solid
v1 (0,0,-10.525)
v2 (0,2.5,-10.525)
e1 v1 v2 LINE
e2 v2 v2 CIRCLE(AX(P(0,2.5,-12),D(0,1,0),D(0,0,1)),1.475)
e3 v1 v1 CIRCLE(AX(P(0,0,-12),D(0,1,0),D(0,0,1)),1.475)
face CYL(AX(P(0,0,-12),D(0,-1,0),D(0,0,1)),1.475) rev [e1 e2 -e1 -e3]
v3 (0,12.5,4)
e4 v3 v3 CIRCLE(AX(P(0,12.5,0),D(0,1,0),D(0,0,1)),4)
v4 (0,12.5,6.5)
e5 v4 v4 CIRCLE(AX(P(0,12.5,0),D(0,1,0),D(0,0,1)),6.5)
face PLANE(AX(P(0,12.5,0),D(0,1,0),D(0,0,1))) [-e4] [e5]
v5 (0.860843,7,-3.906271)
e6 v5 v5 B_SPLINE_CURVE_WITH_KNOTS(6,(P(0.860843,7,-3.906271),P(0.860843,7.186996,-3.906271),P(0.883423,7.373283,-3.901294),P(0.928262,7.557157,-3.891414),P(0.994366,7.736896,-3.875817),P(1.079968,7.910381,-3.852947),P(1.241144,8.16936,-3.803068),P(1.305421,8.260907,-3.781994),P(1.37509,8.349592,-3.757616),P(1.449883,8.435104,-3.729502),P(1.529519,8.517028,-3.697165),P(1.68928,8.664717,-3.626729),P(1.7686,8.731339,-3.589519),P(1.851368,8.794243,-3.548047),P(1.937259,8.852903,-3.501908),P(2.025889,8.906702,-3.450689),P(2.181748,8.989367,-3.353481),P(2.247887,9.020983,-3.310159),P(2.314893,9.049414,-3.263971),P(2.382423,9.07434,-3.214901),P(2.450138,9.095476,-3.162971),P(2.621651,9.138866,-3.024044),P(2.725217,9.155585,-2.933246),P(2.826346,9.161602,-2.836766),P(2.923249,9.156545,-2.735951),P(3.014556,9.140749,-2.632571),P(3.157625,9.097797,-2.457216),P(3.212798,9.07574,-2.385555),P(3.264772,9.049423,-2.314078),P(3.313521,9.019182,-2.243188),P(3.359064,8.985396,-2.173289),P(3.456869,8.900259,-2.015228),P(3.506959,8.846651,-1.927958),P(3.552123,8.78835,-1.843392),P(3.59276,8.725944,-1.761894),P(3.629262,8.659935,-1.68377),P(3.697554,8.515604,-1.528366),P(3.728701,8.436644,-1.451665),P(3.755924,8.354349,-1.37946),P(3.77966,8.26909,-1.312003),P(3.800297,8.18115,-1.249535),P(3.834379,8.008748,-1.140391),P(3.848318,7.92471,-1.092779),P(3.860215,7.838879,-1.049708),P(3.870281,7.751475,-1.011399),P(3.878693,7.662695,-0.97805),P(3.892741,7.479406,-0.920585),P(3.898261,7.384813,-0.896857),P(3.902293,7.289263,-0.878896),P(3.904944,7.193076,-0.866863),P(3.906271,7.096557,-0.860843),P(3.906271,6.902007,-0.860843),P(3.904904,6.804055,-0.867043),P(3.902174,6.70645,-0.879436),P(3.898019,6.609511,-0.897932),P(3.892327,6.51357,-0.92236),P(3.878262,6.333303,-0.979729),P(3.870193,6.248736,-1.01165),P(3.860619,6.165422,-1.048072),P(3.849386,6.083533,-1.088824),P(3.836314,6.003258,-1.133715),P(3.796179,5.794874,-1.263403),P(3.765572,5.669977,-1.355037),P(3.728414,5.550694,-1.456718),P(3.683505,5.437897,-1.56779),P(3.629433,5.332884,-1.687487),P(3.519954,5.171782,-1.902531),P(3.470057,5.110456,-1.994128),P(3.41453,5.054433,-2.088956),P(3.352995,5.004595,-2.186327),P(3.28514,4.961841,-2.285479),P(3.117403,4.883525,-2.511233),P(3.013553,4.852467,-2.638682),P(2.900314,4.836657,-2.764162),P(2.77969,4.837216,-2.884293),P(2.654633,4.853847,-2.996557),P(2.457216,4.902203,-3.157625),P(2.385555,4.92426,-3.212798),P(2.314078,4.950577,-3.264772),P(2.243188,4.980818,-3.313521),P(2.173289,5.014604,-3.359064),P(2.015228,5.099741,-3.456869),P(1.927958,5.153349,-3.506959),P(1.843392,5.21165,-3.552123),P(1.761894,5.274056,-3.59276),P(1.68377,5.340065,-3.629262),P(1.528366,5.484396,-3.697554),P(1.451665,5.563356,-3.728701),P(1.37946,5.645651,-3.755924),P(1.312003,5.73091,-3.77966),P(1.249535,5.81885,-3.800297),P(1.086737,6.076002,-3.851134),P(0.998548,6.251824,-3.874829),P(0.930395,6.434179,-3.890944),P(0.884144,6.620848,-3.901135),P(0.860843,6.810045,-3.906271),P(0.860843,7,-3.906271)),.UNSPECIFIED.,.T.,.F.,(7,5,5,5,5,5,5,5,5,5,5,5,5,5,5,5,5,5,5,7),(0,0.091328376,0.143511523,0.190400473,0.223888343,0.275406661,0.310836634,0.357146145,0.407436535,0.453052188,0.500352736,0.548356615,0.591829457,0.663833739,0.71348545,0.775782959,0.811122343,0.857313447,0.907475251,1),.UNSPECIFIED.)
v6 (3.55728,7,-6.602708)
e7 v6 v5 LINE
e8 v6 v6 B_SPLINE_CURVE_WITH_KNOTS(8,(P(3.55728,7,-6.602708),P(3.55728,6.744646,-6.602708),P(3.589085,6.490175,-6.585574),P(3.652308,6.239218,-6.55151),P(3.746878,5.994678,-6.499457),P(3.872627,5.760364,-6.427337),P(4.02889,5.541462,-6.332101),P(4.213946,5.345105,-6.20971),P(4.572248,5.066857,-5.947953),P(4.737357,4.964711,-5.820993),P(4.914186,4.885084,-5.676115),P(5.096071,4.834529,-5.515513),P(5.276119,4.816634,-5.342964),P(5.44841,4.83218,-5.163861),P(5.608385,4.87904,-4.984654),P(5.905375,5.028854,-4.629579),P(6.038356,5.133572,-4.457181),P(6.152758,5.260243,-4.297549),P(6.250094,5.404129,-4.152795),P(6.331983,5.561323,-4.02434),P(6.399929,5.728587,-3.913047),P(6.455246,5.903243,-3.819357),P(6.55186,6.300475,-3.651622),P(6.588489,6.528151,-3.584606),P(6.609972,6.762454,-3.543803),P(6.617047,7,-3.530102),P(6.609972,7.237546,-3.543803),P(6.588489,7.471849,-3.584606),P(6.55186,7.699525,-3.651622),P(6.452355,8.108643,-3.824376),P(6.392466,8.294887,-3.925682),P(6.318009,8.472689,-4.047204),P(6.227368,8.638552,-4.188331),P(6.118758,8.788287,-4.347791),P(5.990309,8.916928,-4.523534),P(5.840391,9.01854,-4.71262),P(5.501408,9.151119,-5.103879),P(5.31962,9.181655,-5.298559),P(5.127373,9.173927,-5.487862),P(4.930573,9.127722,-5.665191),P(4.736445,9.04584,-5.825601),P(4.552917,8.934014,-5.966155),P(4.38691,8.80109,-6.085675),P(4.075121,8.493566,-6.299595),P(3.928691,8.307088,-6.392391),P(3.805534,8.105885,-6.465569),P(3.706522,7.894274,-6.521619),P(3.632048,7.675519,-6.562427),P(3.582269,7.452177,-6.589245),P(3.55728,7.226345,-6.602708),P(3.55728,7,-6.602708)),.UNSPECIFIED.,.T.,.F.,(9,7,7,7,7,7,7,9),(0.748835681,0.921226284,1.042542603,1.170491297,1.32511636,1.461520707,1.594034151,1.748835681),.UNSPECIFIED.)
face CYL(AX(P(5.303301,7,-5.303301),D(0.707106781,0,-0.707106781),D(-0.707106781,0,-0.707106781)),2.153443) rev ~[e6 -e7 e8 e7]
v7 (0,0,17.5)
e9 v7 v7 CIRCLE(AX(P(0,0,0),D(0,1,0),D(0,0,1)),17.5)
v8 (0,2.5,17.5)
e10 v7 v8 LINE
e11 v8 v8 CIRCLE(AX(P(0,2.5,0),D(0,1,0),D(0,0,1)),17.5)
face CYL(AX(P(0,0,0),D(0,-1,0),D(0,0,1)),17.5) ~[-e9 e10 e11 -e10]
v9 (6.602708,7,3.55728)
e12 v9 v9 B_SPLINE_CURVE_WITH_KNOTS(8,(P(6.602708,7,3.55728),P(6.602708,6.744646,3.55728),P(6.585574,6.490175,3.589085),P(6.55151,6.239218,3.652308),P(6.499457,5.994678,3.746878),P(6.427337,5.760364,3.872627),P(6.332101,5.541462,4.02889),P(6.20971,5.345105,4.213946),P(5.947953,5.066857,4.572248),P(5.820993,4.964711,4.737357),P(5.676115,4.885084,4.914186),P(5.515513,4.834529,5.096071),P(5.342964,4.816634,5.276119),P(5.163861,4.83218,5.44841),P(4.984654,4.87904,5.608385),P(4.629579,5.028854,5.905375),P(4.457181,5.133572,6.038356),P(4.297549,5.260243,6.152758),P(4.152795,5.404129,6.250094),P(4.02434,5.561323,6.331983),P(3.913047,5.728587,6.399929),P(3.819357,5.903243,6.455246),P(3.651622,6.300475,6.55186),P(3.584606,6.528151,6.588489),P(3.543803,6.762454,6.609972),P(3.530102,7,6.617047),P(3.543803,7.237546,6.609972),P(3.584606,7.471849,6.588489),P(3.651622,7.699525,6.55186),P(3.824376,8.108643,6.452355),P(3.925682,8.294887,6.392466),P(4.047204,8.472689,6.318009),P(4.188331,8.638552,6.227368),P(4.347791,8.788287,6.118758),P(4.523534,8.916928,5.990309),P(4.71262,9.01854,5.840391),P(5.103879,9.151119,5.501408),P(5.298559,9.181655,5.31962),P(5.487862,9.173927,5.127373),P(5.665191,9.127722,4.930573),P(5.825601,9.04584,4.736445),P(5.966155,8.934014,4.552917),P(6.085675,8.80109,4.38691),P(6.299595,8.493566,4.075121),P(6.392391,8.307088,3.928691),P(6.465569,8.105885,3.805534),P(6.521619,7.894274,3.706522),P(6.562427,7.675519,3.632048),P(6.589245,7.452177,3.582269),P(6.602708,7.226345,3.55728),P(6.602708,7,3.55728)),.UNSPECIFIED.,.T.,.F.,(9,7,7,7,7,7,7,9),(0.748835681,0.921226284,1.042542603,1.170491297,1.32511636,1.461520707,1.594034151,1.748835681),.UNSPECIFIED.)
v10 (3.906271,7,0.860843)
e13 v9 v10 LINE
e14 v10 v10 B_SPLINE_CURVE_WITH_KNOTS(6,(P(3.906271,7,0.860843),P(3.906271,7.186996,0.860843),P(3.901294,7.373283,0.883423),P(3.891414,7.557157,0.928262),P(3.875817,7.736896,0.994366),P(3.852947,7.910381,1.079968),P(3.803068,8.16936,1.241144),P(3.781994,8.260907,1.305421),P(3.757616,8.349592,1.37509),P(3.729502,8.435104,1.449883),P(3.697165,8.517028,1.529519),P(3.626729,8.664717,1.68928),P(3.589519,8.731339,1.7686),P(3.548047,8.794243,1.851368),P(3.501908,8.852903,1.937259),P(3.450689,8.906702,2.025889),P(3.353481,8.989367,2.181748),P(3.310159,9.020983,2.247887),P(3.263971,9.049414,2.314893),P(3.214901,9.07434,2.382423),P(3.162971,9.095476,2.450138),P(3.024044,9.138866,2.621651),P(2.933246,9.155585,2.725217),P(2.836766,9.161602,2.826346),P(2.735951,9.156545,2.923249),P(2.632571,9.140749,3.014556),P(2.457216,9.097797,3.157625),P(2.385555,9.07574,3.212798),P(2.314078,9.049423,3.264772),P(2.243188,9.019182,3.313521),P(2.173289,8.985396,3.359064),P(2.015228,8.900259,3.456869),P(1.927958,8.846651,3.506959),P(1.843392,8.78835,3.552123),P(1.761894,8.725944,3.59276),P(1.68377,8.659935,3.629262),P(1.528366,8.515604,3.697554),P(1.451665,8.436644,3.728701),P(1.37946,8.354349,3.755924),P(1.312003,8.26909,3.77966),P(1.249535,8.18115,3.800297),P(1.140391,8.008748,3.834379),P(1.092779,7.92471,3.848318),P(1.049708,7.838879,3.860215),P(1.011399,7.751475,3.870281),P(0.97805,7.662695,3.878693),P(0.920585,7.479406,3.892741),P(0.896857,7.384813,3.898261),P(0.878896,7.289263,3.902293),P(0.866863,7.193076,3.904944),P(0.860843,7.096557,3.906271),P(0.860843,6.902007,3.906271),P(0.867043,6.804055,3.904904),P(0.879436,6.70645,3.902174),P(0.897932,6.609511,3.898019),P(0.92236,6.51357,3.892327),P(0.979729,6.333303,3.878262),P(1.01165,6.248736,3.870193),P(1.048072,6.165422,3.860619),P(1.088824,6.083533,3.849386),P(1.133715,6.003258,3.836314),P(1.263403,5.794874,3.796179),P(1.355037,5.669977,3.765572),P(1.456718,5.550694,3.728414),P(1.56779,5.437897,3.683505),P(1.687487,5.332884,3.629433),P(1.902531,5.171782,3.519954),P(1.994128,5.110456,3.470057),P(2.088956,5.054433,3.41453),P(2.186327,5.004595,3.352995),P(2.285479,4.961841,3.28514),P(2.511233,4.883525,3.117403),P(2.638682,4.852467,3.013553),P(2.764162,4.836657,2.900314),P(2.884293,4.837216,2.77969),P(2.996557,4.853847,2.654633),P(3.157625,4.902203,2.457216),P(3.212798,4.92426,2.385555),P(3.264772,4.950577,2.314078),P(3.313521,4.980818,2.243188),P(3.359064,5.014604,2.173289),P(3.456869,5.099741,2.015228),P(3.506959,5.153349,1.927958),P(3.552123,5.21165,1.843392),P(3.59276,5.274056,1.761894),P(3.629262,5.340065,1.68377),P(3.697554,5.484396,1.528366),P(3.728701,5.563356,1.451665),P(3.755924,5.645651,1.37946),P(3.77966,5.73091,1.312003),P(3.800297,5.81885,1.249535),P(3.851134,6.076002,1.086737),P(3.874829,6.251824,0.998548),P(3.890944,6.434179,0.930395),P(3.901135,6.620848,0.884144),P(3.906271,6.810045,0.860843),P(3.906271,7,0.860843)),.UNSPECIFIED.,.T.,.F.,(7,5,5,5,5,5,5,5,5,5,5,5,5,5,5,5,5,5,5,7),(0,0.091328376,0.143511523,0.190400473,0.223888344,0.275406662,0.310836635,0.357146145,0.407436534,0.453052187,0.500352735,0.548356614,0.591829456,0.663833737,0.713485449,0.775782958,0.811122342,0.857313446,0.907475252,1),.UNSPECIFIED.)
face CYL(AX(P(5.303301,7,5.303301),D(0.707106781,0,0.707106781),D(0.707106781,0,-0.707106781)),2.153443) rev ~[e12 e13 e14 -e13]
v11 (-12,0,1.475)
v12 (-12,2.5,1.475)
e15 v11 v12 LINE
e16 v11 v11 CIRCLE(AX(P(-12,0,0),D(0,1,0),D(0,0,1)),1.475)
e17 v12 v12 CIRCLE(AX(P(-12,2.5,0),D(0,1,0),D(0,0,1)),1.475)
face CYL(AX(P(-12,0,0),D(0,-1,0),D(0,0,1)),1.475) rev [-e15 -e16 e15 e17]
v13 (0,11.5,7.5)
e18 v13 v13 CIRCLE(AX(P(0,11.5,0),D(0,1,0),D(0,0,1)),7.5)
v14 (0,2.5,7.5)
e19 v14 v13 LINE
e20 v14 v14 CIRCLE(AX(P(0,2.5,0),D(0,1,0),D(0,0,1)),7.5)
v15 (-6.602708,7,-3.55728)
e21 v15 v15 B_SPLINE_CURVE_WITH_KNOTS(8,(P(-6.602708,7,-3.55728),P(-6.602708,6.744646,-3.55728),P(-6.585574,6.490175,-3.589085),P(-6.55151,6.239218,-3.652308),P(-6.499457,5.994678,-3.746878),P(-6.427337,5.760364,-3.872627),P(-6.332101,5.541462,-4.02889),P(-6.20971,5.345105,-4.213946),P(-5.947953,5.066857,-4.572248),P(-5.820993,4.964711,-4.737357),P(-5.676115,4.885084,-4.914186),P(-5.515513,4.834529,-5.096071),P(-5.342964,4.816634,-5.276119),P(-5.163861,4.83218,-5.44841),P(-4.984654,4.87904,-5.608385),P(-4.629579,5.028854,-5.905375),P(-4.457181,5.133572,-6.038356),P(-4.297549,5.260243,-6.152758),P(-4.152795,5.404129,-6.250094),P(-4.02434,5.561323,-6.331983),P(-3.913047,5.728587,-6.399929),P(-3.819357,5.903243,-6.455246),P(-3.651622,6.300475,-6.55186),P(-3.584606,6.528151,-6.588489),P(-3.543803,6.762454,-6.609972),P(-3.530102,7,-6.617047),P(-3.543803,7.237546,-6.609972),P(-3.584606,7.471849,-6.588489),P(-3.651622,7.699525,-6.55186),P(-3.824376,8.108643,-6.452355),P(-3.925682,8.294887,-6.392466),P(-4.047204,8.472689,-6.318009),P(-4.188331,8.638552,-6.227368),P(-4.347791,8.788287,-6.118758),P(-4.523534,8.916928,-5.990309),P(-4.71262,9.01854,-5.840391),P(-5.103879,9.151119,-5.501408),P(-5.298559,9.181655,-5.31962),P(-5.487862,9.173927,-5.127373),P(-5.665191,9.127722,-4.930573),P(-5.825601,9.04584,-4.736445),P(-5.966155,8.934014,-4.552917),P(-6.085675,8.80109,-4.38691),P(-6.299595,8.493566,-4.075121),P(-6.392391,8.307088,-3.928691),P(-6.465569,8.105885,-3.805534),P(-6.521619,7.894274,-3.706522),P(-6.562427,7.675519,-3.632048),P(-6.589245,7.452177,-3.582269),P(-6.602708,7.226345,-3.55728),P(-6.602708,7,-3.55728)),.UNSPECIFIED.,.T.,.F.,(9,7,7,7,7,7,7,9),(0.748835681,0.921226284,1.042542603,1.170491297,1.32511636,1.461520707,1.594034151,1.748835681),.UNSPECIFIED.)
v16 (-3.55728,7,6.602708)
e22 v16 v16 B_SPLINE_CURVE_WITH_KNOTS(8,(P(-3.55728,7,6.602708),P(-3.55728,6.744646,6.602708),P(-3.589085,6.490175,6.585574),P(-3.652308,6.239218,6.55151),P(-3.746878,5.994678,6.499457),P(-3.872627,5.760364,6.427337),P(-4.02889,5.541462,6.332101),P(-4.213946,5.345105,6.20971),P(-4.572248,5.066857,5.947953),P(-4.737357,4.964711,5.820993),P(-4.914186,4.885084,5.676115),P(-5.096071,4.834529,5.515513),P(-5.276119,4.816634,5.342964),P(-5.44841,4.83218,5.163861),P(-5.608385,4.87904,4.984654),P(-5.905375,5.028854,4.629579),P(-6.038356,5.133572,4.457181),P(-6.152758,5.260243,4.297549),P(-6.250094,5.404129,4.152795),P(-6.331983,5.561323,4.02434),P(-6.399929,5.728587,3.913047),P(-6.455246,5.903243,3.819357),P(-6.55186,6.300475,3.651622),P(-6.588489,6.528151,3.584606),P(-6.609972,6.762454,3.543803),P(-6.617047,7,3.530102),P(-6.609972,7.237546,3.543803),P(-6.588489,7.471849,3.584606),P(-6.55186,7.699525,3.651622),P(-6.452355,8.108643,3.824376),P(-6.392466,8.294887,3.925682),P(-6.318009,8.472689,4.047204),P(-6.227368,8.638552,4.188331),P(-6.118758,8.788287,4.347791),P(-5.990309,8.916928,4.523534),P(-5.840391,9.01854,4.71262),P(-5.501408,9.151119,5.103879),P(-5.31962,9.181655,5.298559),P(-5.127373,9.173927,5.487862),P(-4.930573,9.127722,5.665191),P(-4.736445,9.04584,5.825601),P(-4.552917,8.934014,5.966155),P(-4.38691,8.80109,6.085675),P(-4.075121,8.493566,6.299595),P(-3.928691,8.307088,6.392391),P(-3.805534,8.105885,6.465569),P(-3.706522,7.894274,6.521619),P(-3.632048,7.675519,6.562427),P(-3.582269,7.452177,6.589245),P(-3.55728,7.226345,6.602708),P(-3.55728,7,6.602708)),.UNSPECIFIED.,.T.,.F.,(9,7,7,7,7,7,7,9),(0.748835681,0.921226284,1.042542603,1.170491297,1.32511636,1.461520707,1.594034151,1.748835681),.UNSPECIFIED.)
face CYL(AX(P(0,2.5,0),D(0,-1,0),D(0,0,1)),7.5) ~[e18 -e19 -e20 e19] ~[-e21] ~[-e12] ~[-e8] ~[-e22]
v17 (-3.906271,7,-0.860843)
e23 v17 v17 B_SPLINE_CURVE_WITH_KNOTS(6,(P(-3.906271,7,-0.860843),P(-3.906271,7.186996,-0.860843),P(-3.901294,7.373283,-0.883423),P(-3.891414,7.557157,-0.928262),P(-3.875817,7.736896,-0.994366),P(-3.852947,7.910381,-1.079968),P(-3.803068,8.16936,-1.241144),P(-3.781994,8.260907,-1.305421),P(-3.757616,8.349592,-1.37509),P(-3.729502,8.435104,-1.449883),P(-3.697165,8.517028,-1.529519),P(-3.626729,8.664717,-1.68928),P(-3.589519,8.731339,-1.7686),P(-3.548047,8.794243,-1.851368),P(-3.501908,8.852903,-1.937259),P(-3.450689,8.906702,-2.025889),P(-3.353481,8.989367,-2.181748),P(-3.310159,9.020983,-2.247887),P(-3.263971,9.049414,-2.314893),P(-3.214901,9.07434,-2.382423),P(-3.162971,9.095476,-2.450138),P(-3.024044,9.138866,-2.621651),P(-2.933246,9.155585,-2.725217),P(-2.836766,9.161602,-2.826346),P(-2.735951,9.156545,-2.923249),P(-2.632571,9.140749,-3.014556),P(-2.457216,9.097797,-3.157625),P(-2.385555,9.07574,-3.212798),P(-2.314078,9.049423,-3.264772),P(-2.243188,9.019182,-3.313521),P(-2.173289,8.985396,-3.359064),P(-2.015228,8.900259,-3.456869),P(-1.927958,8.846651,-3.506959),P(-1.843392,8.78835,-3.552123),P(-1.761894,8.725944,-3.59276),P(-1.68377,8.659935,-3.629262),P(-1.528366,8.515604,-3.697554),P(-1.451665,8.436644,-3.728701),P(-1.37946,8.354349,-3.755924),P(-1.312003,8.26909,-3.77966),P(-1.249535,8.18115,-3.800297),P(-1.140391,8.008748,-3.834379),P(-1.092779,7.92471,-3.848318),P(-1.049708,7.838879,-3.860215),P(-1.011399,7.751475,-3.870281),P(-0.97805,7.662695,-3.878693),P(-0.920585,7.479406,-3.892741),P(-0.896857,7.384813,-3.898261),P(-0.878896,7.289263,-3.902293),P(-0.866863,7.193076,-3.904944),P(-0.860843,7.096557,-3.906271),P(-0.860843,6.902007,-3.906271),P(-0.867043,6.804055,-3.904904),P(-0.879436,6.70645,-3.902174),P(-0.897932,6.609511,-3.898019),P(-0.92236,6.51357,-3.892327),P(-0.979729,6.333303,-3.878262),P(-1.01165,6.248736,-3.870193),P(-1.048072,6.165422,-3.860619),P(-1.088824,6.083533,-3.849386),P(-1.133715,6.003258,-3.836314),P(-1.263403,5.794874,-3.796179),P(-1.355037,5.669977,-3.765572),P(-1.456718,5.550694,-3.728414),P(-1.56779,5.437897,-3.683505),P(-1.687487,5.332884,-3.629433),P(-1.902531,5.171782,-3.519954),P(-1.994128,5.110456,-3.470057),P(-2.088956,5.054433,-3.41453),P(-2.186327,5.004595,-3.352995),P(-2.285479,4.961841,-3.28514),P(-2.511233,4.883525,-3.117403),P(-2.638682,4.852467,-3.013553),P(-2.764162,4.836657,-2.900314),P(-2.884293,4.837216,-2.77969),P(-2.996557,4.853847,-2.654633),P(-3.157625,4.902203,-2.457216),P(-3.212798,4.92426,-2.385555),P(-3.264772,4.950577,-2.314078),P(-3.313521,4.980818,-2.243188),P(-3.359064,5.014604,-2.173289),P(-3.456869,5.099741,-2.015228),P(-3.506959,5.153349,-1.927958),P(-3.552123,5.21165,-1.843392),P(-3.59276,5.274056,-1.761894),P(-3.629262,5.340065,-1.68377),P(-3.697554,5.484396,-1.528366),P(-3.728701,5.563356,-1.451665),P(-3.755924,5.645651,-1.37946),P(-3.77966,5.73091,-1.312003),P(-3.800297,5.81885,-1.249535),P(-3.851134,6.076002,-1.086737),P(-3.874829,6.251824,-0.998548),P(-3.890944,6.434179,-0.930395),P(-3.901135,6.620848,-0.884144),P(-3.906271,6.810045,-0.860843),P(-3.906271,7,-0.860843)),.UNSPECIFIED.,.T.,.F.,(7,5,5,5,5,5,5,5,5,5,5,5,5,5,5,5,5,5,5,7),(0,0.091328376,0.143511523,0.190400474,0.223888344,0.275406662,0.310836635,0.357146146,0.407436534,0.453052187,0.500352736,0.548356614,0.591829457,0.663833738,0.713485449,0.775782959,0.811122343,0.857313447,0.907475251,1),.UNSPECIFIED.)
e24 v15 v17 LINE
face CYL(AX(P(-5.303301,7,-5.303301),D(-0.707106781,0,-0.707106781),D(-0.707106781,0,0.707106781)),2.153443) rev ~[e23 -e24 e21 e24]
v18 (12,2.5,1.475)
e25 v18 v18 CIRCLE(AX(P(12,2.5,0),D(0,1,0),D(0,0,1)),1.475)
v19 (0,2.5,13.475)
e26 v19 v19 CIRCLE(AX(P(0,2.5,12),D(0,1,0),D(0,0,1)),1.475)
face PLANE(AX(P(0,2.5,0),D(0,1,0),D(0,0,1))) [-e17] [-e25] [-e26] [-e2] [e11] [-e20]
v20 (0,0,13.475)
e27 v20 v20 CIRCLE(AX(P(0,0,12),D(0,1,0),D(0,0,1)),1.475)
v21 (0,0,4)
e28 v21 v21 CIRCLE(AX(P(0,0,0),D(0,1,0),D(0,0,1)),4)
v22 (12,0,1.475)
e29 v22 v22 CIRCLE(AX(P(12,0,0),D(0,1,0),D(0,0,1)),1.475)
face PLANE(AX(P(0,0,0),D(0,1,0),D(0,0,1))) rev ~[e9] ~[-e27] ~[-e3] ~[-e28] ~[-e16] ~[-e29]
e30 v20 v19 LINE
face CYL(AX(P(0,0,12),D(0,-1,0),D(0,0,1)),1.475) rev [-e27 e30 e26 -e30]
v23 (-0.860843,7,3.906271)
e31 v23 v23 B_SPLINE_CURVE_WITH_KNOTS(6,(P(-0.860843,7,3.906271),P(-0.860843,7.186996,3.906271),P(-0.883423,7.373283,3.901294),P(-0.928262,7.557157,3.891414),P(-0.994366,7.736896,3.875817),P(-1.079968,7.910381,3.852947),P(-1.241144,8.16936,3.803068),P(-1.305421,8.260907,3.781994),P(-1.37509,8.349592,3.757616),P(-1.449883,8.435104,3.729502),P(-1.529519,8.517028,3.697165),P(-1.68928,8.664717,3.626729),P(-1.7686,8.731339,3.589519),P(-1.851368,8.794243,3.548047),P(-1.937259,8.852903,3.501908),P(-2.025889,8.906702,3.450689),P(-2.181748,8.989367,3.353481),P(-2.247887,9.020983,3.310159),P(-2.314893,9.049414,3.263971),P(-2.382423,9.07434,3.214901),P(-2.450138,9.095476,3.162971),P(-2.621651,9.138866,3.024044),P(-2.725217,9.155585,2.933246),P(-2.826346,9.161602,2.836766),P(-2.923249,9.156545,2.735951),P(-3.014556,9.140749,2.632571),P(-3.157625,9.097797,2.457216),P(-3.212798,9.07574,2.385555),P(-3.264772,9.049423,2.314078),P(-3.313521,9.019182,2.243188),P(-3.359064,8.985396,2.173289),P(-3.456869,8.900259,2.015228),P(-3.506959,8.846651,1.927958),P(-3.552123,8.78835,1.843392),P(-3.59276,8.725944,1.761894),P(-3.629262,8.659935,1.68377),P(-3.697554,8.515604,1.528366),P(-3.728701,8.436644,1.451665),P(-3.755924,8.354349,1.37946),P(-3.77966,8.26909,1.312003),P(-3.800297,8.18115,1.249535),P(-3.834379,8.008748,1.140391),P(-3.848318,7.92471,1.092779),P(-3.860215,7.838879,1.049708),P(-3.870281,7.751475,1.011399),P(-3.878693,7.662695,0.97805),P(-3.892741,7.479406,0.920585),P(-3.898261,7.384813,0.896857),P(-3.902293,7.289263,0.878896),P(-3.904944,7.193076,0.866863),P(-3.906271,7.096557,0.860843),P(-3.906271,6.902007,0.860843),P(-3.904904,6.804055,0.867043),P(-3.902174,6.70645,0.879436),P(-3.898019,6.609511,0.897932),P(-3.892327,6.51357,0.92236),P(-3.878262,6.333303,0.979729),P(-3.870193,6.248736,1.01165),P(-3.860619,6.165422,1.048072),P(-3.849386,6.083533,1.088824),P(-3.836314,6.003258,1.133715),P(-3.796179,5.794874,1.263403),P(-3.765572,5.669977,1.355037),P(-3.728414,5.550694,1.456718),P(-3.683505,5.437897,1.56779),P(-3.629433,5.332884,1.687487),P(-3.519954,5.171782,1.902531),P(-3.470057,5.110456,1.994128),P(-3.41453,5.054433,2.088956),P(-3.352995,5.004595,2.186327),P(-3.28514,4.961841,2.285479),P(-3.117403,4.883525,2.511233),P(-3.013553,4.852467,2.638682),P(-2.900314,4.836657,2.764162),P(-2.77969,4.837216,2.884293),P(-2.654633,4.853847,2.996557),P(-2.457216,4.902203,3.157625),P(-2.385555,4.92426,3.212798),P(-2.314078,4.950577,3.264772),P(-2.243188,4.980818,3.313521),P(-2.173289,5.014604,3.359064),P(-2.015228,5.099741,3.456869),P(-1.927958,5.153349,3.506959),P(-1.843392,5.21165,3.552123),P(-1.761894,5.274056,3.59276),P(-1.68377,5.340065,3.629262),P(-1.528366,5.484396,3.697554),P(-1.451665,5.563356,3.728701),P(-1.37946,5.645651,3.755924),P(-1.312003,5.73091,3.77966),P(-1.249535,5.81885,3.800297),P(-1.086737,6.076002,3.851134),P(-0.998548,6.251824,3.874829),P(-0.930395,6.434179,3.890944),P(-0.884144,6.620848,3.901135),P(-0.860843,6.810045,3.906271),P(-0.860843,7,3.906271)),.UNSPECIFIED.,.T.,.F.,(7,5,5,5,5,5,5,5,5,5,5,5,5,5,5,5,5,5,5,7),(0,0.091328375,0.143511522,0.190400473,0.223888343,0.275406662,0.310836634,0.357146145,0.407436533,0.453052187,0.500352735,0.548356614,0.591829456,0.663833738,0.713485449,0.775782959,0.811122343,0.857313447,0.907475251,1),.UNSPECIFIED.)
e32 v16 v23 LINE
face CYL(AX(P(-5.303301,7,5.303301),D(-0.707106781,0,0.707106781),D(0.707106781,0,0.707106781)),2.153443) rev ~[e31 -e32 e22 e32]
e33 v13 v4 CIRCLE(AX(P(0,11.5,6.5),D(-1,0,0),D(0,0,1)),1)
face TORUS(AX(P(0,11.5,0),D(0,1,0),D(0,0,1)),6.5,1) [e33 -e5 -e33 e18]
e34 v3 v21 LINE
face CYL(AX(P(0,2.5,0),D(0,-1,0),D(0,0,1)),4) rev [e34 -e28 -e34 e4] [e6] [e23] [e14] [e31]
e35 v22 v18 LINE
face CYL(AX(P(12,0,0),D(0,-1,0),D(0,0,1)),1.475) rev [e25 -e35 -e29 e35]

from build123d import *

# Parameters (mm, degrees)
SKETCH2_R           = 17.5
SKETCH2_R_2         = 1.475
SKETCH2_R_3         = 4
BOSS_EXTRUDE1_DEPTH = 2.5
SKETCH3_R           = 7.5
SKETCH3_R_2         = 4
BOSS_EXTRUDE2_DEPTH = 10
FILLET1_R           = 1
SKETCH7_R           = 2.153442821
CUT_EXTRUDE7_DEPTH  = 5
CIRPATTERN2_COUNT   = 4


with BuildPart() as part:
    # Sketch2 → Boss-Extrude1 (new body)
    with BuildSketch(Plane(origin=(0, 0, 0), x_dir=(1, 0, 0), z_dir=(0, 1, 0))):
        with Locations(Location((0, 0, 0), (0, 0, 270))):
            Circle(SKETCH2_R)
        with Locations(Location((-12, 0, 0), (0, 0, 270))):
            Circle(SKETCH2_R_2, mode=Mode.SUBTRACT)
        with Locations(Location((0, -12, 0), (0, 0, 270))):
            Circle(SKETCH2_R_2, mode=Mode.SUBTRACT)
        with Locations(Location((12, 0, 0), (0, 0, 270))):
            Circle(SKETCH2_R_2, mode=Mode.SUBTRACT)
        with Locations(Location((0, 12, 0), (0, 0, 270))):
            Circle(SKETCH2_R_2, mode=Mode.SUBTRACT)
        with Locations(Location((0, 0, 0), (0, 0, 270))):
            Circle(SKETCH2_R_3, mode=Mode.SUBTRACT)
    extrude(amount=BOSS_EXTRUDE1_DEPTH)

    # Sketch3 → Boss-Extrude2 (add)
    with BuildSketch(Plane(origin=(0, 2.5, 0), x_dir=(1, 0, 0), z_dir=(0, 1, 0))):
        with Locations(Location((0, 0, 0), (0, 0, 270))):
            Circle(SKETCH3_R)
        with Locations(Location((0, 0, 0), (0, 0, 270))):
            Circle(SKETCH3_R_2, mode=Mode.SUBTRACT)
    extrude(amount=BOSS_EXTRUDE2_DEPTH)

    # Fillet1
    fillet1_edges = [part.edges().sort_by_distance(p)[0] for p in [
        (0, 12.5, -7.5),
    ]]
    fillet(fillet1_edges, radius=FILLET1_R)

    # Sketch7 → Cut-Extrude7 (cut)
    with BuildSketch(Plane(origin=(5.303300859, 0, 5.303300859), x_dir=(0, -1, 0), z_dir=(0.7071067811865464, 0, 0.7071067811865488))):
        with Locations(Location((-7, 0, 0), (0, 0, 90))):
            Circle(SKETCH7_R)
    cut_extrude7 = extrude(amount=-CUT_EXTRUDE7_DEPTH, mode=Mode.SUBTRACT)

    # CirPattern2: Cut-Extrude7 ×4 about axis
    cirpattern2_axis = Axis((0, 12.5, 0), (0, -1, 0))
    for i in range(1, CIRPATTERN2_COUNT):
        add(cut_extrude7.rotate(cirpattern2_axis, i * 360 / CIRPATTERN2_COUNT), mode=Mode.SUBTRACT)


solid = part.part
